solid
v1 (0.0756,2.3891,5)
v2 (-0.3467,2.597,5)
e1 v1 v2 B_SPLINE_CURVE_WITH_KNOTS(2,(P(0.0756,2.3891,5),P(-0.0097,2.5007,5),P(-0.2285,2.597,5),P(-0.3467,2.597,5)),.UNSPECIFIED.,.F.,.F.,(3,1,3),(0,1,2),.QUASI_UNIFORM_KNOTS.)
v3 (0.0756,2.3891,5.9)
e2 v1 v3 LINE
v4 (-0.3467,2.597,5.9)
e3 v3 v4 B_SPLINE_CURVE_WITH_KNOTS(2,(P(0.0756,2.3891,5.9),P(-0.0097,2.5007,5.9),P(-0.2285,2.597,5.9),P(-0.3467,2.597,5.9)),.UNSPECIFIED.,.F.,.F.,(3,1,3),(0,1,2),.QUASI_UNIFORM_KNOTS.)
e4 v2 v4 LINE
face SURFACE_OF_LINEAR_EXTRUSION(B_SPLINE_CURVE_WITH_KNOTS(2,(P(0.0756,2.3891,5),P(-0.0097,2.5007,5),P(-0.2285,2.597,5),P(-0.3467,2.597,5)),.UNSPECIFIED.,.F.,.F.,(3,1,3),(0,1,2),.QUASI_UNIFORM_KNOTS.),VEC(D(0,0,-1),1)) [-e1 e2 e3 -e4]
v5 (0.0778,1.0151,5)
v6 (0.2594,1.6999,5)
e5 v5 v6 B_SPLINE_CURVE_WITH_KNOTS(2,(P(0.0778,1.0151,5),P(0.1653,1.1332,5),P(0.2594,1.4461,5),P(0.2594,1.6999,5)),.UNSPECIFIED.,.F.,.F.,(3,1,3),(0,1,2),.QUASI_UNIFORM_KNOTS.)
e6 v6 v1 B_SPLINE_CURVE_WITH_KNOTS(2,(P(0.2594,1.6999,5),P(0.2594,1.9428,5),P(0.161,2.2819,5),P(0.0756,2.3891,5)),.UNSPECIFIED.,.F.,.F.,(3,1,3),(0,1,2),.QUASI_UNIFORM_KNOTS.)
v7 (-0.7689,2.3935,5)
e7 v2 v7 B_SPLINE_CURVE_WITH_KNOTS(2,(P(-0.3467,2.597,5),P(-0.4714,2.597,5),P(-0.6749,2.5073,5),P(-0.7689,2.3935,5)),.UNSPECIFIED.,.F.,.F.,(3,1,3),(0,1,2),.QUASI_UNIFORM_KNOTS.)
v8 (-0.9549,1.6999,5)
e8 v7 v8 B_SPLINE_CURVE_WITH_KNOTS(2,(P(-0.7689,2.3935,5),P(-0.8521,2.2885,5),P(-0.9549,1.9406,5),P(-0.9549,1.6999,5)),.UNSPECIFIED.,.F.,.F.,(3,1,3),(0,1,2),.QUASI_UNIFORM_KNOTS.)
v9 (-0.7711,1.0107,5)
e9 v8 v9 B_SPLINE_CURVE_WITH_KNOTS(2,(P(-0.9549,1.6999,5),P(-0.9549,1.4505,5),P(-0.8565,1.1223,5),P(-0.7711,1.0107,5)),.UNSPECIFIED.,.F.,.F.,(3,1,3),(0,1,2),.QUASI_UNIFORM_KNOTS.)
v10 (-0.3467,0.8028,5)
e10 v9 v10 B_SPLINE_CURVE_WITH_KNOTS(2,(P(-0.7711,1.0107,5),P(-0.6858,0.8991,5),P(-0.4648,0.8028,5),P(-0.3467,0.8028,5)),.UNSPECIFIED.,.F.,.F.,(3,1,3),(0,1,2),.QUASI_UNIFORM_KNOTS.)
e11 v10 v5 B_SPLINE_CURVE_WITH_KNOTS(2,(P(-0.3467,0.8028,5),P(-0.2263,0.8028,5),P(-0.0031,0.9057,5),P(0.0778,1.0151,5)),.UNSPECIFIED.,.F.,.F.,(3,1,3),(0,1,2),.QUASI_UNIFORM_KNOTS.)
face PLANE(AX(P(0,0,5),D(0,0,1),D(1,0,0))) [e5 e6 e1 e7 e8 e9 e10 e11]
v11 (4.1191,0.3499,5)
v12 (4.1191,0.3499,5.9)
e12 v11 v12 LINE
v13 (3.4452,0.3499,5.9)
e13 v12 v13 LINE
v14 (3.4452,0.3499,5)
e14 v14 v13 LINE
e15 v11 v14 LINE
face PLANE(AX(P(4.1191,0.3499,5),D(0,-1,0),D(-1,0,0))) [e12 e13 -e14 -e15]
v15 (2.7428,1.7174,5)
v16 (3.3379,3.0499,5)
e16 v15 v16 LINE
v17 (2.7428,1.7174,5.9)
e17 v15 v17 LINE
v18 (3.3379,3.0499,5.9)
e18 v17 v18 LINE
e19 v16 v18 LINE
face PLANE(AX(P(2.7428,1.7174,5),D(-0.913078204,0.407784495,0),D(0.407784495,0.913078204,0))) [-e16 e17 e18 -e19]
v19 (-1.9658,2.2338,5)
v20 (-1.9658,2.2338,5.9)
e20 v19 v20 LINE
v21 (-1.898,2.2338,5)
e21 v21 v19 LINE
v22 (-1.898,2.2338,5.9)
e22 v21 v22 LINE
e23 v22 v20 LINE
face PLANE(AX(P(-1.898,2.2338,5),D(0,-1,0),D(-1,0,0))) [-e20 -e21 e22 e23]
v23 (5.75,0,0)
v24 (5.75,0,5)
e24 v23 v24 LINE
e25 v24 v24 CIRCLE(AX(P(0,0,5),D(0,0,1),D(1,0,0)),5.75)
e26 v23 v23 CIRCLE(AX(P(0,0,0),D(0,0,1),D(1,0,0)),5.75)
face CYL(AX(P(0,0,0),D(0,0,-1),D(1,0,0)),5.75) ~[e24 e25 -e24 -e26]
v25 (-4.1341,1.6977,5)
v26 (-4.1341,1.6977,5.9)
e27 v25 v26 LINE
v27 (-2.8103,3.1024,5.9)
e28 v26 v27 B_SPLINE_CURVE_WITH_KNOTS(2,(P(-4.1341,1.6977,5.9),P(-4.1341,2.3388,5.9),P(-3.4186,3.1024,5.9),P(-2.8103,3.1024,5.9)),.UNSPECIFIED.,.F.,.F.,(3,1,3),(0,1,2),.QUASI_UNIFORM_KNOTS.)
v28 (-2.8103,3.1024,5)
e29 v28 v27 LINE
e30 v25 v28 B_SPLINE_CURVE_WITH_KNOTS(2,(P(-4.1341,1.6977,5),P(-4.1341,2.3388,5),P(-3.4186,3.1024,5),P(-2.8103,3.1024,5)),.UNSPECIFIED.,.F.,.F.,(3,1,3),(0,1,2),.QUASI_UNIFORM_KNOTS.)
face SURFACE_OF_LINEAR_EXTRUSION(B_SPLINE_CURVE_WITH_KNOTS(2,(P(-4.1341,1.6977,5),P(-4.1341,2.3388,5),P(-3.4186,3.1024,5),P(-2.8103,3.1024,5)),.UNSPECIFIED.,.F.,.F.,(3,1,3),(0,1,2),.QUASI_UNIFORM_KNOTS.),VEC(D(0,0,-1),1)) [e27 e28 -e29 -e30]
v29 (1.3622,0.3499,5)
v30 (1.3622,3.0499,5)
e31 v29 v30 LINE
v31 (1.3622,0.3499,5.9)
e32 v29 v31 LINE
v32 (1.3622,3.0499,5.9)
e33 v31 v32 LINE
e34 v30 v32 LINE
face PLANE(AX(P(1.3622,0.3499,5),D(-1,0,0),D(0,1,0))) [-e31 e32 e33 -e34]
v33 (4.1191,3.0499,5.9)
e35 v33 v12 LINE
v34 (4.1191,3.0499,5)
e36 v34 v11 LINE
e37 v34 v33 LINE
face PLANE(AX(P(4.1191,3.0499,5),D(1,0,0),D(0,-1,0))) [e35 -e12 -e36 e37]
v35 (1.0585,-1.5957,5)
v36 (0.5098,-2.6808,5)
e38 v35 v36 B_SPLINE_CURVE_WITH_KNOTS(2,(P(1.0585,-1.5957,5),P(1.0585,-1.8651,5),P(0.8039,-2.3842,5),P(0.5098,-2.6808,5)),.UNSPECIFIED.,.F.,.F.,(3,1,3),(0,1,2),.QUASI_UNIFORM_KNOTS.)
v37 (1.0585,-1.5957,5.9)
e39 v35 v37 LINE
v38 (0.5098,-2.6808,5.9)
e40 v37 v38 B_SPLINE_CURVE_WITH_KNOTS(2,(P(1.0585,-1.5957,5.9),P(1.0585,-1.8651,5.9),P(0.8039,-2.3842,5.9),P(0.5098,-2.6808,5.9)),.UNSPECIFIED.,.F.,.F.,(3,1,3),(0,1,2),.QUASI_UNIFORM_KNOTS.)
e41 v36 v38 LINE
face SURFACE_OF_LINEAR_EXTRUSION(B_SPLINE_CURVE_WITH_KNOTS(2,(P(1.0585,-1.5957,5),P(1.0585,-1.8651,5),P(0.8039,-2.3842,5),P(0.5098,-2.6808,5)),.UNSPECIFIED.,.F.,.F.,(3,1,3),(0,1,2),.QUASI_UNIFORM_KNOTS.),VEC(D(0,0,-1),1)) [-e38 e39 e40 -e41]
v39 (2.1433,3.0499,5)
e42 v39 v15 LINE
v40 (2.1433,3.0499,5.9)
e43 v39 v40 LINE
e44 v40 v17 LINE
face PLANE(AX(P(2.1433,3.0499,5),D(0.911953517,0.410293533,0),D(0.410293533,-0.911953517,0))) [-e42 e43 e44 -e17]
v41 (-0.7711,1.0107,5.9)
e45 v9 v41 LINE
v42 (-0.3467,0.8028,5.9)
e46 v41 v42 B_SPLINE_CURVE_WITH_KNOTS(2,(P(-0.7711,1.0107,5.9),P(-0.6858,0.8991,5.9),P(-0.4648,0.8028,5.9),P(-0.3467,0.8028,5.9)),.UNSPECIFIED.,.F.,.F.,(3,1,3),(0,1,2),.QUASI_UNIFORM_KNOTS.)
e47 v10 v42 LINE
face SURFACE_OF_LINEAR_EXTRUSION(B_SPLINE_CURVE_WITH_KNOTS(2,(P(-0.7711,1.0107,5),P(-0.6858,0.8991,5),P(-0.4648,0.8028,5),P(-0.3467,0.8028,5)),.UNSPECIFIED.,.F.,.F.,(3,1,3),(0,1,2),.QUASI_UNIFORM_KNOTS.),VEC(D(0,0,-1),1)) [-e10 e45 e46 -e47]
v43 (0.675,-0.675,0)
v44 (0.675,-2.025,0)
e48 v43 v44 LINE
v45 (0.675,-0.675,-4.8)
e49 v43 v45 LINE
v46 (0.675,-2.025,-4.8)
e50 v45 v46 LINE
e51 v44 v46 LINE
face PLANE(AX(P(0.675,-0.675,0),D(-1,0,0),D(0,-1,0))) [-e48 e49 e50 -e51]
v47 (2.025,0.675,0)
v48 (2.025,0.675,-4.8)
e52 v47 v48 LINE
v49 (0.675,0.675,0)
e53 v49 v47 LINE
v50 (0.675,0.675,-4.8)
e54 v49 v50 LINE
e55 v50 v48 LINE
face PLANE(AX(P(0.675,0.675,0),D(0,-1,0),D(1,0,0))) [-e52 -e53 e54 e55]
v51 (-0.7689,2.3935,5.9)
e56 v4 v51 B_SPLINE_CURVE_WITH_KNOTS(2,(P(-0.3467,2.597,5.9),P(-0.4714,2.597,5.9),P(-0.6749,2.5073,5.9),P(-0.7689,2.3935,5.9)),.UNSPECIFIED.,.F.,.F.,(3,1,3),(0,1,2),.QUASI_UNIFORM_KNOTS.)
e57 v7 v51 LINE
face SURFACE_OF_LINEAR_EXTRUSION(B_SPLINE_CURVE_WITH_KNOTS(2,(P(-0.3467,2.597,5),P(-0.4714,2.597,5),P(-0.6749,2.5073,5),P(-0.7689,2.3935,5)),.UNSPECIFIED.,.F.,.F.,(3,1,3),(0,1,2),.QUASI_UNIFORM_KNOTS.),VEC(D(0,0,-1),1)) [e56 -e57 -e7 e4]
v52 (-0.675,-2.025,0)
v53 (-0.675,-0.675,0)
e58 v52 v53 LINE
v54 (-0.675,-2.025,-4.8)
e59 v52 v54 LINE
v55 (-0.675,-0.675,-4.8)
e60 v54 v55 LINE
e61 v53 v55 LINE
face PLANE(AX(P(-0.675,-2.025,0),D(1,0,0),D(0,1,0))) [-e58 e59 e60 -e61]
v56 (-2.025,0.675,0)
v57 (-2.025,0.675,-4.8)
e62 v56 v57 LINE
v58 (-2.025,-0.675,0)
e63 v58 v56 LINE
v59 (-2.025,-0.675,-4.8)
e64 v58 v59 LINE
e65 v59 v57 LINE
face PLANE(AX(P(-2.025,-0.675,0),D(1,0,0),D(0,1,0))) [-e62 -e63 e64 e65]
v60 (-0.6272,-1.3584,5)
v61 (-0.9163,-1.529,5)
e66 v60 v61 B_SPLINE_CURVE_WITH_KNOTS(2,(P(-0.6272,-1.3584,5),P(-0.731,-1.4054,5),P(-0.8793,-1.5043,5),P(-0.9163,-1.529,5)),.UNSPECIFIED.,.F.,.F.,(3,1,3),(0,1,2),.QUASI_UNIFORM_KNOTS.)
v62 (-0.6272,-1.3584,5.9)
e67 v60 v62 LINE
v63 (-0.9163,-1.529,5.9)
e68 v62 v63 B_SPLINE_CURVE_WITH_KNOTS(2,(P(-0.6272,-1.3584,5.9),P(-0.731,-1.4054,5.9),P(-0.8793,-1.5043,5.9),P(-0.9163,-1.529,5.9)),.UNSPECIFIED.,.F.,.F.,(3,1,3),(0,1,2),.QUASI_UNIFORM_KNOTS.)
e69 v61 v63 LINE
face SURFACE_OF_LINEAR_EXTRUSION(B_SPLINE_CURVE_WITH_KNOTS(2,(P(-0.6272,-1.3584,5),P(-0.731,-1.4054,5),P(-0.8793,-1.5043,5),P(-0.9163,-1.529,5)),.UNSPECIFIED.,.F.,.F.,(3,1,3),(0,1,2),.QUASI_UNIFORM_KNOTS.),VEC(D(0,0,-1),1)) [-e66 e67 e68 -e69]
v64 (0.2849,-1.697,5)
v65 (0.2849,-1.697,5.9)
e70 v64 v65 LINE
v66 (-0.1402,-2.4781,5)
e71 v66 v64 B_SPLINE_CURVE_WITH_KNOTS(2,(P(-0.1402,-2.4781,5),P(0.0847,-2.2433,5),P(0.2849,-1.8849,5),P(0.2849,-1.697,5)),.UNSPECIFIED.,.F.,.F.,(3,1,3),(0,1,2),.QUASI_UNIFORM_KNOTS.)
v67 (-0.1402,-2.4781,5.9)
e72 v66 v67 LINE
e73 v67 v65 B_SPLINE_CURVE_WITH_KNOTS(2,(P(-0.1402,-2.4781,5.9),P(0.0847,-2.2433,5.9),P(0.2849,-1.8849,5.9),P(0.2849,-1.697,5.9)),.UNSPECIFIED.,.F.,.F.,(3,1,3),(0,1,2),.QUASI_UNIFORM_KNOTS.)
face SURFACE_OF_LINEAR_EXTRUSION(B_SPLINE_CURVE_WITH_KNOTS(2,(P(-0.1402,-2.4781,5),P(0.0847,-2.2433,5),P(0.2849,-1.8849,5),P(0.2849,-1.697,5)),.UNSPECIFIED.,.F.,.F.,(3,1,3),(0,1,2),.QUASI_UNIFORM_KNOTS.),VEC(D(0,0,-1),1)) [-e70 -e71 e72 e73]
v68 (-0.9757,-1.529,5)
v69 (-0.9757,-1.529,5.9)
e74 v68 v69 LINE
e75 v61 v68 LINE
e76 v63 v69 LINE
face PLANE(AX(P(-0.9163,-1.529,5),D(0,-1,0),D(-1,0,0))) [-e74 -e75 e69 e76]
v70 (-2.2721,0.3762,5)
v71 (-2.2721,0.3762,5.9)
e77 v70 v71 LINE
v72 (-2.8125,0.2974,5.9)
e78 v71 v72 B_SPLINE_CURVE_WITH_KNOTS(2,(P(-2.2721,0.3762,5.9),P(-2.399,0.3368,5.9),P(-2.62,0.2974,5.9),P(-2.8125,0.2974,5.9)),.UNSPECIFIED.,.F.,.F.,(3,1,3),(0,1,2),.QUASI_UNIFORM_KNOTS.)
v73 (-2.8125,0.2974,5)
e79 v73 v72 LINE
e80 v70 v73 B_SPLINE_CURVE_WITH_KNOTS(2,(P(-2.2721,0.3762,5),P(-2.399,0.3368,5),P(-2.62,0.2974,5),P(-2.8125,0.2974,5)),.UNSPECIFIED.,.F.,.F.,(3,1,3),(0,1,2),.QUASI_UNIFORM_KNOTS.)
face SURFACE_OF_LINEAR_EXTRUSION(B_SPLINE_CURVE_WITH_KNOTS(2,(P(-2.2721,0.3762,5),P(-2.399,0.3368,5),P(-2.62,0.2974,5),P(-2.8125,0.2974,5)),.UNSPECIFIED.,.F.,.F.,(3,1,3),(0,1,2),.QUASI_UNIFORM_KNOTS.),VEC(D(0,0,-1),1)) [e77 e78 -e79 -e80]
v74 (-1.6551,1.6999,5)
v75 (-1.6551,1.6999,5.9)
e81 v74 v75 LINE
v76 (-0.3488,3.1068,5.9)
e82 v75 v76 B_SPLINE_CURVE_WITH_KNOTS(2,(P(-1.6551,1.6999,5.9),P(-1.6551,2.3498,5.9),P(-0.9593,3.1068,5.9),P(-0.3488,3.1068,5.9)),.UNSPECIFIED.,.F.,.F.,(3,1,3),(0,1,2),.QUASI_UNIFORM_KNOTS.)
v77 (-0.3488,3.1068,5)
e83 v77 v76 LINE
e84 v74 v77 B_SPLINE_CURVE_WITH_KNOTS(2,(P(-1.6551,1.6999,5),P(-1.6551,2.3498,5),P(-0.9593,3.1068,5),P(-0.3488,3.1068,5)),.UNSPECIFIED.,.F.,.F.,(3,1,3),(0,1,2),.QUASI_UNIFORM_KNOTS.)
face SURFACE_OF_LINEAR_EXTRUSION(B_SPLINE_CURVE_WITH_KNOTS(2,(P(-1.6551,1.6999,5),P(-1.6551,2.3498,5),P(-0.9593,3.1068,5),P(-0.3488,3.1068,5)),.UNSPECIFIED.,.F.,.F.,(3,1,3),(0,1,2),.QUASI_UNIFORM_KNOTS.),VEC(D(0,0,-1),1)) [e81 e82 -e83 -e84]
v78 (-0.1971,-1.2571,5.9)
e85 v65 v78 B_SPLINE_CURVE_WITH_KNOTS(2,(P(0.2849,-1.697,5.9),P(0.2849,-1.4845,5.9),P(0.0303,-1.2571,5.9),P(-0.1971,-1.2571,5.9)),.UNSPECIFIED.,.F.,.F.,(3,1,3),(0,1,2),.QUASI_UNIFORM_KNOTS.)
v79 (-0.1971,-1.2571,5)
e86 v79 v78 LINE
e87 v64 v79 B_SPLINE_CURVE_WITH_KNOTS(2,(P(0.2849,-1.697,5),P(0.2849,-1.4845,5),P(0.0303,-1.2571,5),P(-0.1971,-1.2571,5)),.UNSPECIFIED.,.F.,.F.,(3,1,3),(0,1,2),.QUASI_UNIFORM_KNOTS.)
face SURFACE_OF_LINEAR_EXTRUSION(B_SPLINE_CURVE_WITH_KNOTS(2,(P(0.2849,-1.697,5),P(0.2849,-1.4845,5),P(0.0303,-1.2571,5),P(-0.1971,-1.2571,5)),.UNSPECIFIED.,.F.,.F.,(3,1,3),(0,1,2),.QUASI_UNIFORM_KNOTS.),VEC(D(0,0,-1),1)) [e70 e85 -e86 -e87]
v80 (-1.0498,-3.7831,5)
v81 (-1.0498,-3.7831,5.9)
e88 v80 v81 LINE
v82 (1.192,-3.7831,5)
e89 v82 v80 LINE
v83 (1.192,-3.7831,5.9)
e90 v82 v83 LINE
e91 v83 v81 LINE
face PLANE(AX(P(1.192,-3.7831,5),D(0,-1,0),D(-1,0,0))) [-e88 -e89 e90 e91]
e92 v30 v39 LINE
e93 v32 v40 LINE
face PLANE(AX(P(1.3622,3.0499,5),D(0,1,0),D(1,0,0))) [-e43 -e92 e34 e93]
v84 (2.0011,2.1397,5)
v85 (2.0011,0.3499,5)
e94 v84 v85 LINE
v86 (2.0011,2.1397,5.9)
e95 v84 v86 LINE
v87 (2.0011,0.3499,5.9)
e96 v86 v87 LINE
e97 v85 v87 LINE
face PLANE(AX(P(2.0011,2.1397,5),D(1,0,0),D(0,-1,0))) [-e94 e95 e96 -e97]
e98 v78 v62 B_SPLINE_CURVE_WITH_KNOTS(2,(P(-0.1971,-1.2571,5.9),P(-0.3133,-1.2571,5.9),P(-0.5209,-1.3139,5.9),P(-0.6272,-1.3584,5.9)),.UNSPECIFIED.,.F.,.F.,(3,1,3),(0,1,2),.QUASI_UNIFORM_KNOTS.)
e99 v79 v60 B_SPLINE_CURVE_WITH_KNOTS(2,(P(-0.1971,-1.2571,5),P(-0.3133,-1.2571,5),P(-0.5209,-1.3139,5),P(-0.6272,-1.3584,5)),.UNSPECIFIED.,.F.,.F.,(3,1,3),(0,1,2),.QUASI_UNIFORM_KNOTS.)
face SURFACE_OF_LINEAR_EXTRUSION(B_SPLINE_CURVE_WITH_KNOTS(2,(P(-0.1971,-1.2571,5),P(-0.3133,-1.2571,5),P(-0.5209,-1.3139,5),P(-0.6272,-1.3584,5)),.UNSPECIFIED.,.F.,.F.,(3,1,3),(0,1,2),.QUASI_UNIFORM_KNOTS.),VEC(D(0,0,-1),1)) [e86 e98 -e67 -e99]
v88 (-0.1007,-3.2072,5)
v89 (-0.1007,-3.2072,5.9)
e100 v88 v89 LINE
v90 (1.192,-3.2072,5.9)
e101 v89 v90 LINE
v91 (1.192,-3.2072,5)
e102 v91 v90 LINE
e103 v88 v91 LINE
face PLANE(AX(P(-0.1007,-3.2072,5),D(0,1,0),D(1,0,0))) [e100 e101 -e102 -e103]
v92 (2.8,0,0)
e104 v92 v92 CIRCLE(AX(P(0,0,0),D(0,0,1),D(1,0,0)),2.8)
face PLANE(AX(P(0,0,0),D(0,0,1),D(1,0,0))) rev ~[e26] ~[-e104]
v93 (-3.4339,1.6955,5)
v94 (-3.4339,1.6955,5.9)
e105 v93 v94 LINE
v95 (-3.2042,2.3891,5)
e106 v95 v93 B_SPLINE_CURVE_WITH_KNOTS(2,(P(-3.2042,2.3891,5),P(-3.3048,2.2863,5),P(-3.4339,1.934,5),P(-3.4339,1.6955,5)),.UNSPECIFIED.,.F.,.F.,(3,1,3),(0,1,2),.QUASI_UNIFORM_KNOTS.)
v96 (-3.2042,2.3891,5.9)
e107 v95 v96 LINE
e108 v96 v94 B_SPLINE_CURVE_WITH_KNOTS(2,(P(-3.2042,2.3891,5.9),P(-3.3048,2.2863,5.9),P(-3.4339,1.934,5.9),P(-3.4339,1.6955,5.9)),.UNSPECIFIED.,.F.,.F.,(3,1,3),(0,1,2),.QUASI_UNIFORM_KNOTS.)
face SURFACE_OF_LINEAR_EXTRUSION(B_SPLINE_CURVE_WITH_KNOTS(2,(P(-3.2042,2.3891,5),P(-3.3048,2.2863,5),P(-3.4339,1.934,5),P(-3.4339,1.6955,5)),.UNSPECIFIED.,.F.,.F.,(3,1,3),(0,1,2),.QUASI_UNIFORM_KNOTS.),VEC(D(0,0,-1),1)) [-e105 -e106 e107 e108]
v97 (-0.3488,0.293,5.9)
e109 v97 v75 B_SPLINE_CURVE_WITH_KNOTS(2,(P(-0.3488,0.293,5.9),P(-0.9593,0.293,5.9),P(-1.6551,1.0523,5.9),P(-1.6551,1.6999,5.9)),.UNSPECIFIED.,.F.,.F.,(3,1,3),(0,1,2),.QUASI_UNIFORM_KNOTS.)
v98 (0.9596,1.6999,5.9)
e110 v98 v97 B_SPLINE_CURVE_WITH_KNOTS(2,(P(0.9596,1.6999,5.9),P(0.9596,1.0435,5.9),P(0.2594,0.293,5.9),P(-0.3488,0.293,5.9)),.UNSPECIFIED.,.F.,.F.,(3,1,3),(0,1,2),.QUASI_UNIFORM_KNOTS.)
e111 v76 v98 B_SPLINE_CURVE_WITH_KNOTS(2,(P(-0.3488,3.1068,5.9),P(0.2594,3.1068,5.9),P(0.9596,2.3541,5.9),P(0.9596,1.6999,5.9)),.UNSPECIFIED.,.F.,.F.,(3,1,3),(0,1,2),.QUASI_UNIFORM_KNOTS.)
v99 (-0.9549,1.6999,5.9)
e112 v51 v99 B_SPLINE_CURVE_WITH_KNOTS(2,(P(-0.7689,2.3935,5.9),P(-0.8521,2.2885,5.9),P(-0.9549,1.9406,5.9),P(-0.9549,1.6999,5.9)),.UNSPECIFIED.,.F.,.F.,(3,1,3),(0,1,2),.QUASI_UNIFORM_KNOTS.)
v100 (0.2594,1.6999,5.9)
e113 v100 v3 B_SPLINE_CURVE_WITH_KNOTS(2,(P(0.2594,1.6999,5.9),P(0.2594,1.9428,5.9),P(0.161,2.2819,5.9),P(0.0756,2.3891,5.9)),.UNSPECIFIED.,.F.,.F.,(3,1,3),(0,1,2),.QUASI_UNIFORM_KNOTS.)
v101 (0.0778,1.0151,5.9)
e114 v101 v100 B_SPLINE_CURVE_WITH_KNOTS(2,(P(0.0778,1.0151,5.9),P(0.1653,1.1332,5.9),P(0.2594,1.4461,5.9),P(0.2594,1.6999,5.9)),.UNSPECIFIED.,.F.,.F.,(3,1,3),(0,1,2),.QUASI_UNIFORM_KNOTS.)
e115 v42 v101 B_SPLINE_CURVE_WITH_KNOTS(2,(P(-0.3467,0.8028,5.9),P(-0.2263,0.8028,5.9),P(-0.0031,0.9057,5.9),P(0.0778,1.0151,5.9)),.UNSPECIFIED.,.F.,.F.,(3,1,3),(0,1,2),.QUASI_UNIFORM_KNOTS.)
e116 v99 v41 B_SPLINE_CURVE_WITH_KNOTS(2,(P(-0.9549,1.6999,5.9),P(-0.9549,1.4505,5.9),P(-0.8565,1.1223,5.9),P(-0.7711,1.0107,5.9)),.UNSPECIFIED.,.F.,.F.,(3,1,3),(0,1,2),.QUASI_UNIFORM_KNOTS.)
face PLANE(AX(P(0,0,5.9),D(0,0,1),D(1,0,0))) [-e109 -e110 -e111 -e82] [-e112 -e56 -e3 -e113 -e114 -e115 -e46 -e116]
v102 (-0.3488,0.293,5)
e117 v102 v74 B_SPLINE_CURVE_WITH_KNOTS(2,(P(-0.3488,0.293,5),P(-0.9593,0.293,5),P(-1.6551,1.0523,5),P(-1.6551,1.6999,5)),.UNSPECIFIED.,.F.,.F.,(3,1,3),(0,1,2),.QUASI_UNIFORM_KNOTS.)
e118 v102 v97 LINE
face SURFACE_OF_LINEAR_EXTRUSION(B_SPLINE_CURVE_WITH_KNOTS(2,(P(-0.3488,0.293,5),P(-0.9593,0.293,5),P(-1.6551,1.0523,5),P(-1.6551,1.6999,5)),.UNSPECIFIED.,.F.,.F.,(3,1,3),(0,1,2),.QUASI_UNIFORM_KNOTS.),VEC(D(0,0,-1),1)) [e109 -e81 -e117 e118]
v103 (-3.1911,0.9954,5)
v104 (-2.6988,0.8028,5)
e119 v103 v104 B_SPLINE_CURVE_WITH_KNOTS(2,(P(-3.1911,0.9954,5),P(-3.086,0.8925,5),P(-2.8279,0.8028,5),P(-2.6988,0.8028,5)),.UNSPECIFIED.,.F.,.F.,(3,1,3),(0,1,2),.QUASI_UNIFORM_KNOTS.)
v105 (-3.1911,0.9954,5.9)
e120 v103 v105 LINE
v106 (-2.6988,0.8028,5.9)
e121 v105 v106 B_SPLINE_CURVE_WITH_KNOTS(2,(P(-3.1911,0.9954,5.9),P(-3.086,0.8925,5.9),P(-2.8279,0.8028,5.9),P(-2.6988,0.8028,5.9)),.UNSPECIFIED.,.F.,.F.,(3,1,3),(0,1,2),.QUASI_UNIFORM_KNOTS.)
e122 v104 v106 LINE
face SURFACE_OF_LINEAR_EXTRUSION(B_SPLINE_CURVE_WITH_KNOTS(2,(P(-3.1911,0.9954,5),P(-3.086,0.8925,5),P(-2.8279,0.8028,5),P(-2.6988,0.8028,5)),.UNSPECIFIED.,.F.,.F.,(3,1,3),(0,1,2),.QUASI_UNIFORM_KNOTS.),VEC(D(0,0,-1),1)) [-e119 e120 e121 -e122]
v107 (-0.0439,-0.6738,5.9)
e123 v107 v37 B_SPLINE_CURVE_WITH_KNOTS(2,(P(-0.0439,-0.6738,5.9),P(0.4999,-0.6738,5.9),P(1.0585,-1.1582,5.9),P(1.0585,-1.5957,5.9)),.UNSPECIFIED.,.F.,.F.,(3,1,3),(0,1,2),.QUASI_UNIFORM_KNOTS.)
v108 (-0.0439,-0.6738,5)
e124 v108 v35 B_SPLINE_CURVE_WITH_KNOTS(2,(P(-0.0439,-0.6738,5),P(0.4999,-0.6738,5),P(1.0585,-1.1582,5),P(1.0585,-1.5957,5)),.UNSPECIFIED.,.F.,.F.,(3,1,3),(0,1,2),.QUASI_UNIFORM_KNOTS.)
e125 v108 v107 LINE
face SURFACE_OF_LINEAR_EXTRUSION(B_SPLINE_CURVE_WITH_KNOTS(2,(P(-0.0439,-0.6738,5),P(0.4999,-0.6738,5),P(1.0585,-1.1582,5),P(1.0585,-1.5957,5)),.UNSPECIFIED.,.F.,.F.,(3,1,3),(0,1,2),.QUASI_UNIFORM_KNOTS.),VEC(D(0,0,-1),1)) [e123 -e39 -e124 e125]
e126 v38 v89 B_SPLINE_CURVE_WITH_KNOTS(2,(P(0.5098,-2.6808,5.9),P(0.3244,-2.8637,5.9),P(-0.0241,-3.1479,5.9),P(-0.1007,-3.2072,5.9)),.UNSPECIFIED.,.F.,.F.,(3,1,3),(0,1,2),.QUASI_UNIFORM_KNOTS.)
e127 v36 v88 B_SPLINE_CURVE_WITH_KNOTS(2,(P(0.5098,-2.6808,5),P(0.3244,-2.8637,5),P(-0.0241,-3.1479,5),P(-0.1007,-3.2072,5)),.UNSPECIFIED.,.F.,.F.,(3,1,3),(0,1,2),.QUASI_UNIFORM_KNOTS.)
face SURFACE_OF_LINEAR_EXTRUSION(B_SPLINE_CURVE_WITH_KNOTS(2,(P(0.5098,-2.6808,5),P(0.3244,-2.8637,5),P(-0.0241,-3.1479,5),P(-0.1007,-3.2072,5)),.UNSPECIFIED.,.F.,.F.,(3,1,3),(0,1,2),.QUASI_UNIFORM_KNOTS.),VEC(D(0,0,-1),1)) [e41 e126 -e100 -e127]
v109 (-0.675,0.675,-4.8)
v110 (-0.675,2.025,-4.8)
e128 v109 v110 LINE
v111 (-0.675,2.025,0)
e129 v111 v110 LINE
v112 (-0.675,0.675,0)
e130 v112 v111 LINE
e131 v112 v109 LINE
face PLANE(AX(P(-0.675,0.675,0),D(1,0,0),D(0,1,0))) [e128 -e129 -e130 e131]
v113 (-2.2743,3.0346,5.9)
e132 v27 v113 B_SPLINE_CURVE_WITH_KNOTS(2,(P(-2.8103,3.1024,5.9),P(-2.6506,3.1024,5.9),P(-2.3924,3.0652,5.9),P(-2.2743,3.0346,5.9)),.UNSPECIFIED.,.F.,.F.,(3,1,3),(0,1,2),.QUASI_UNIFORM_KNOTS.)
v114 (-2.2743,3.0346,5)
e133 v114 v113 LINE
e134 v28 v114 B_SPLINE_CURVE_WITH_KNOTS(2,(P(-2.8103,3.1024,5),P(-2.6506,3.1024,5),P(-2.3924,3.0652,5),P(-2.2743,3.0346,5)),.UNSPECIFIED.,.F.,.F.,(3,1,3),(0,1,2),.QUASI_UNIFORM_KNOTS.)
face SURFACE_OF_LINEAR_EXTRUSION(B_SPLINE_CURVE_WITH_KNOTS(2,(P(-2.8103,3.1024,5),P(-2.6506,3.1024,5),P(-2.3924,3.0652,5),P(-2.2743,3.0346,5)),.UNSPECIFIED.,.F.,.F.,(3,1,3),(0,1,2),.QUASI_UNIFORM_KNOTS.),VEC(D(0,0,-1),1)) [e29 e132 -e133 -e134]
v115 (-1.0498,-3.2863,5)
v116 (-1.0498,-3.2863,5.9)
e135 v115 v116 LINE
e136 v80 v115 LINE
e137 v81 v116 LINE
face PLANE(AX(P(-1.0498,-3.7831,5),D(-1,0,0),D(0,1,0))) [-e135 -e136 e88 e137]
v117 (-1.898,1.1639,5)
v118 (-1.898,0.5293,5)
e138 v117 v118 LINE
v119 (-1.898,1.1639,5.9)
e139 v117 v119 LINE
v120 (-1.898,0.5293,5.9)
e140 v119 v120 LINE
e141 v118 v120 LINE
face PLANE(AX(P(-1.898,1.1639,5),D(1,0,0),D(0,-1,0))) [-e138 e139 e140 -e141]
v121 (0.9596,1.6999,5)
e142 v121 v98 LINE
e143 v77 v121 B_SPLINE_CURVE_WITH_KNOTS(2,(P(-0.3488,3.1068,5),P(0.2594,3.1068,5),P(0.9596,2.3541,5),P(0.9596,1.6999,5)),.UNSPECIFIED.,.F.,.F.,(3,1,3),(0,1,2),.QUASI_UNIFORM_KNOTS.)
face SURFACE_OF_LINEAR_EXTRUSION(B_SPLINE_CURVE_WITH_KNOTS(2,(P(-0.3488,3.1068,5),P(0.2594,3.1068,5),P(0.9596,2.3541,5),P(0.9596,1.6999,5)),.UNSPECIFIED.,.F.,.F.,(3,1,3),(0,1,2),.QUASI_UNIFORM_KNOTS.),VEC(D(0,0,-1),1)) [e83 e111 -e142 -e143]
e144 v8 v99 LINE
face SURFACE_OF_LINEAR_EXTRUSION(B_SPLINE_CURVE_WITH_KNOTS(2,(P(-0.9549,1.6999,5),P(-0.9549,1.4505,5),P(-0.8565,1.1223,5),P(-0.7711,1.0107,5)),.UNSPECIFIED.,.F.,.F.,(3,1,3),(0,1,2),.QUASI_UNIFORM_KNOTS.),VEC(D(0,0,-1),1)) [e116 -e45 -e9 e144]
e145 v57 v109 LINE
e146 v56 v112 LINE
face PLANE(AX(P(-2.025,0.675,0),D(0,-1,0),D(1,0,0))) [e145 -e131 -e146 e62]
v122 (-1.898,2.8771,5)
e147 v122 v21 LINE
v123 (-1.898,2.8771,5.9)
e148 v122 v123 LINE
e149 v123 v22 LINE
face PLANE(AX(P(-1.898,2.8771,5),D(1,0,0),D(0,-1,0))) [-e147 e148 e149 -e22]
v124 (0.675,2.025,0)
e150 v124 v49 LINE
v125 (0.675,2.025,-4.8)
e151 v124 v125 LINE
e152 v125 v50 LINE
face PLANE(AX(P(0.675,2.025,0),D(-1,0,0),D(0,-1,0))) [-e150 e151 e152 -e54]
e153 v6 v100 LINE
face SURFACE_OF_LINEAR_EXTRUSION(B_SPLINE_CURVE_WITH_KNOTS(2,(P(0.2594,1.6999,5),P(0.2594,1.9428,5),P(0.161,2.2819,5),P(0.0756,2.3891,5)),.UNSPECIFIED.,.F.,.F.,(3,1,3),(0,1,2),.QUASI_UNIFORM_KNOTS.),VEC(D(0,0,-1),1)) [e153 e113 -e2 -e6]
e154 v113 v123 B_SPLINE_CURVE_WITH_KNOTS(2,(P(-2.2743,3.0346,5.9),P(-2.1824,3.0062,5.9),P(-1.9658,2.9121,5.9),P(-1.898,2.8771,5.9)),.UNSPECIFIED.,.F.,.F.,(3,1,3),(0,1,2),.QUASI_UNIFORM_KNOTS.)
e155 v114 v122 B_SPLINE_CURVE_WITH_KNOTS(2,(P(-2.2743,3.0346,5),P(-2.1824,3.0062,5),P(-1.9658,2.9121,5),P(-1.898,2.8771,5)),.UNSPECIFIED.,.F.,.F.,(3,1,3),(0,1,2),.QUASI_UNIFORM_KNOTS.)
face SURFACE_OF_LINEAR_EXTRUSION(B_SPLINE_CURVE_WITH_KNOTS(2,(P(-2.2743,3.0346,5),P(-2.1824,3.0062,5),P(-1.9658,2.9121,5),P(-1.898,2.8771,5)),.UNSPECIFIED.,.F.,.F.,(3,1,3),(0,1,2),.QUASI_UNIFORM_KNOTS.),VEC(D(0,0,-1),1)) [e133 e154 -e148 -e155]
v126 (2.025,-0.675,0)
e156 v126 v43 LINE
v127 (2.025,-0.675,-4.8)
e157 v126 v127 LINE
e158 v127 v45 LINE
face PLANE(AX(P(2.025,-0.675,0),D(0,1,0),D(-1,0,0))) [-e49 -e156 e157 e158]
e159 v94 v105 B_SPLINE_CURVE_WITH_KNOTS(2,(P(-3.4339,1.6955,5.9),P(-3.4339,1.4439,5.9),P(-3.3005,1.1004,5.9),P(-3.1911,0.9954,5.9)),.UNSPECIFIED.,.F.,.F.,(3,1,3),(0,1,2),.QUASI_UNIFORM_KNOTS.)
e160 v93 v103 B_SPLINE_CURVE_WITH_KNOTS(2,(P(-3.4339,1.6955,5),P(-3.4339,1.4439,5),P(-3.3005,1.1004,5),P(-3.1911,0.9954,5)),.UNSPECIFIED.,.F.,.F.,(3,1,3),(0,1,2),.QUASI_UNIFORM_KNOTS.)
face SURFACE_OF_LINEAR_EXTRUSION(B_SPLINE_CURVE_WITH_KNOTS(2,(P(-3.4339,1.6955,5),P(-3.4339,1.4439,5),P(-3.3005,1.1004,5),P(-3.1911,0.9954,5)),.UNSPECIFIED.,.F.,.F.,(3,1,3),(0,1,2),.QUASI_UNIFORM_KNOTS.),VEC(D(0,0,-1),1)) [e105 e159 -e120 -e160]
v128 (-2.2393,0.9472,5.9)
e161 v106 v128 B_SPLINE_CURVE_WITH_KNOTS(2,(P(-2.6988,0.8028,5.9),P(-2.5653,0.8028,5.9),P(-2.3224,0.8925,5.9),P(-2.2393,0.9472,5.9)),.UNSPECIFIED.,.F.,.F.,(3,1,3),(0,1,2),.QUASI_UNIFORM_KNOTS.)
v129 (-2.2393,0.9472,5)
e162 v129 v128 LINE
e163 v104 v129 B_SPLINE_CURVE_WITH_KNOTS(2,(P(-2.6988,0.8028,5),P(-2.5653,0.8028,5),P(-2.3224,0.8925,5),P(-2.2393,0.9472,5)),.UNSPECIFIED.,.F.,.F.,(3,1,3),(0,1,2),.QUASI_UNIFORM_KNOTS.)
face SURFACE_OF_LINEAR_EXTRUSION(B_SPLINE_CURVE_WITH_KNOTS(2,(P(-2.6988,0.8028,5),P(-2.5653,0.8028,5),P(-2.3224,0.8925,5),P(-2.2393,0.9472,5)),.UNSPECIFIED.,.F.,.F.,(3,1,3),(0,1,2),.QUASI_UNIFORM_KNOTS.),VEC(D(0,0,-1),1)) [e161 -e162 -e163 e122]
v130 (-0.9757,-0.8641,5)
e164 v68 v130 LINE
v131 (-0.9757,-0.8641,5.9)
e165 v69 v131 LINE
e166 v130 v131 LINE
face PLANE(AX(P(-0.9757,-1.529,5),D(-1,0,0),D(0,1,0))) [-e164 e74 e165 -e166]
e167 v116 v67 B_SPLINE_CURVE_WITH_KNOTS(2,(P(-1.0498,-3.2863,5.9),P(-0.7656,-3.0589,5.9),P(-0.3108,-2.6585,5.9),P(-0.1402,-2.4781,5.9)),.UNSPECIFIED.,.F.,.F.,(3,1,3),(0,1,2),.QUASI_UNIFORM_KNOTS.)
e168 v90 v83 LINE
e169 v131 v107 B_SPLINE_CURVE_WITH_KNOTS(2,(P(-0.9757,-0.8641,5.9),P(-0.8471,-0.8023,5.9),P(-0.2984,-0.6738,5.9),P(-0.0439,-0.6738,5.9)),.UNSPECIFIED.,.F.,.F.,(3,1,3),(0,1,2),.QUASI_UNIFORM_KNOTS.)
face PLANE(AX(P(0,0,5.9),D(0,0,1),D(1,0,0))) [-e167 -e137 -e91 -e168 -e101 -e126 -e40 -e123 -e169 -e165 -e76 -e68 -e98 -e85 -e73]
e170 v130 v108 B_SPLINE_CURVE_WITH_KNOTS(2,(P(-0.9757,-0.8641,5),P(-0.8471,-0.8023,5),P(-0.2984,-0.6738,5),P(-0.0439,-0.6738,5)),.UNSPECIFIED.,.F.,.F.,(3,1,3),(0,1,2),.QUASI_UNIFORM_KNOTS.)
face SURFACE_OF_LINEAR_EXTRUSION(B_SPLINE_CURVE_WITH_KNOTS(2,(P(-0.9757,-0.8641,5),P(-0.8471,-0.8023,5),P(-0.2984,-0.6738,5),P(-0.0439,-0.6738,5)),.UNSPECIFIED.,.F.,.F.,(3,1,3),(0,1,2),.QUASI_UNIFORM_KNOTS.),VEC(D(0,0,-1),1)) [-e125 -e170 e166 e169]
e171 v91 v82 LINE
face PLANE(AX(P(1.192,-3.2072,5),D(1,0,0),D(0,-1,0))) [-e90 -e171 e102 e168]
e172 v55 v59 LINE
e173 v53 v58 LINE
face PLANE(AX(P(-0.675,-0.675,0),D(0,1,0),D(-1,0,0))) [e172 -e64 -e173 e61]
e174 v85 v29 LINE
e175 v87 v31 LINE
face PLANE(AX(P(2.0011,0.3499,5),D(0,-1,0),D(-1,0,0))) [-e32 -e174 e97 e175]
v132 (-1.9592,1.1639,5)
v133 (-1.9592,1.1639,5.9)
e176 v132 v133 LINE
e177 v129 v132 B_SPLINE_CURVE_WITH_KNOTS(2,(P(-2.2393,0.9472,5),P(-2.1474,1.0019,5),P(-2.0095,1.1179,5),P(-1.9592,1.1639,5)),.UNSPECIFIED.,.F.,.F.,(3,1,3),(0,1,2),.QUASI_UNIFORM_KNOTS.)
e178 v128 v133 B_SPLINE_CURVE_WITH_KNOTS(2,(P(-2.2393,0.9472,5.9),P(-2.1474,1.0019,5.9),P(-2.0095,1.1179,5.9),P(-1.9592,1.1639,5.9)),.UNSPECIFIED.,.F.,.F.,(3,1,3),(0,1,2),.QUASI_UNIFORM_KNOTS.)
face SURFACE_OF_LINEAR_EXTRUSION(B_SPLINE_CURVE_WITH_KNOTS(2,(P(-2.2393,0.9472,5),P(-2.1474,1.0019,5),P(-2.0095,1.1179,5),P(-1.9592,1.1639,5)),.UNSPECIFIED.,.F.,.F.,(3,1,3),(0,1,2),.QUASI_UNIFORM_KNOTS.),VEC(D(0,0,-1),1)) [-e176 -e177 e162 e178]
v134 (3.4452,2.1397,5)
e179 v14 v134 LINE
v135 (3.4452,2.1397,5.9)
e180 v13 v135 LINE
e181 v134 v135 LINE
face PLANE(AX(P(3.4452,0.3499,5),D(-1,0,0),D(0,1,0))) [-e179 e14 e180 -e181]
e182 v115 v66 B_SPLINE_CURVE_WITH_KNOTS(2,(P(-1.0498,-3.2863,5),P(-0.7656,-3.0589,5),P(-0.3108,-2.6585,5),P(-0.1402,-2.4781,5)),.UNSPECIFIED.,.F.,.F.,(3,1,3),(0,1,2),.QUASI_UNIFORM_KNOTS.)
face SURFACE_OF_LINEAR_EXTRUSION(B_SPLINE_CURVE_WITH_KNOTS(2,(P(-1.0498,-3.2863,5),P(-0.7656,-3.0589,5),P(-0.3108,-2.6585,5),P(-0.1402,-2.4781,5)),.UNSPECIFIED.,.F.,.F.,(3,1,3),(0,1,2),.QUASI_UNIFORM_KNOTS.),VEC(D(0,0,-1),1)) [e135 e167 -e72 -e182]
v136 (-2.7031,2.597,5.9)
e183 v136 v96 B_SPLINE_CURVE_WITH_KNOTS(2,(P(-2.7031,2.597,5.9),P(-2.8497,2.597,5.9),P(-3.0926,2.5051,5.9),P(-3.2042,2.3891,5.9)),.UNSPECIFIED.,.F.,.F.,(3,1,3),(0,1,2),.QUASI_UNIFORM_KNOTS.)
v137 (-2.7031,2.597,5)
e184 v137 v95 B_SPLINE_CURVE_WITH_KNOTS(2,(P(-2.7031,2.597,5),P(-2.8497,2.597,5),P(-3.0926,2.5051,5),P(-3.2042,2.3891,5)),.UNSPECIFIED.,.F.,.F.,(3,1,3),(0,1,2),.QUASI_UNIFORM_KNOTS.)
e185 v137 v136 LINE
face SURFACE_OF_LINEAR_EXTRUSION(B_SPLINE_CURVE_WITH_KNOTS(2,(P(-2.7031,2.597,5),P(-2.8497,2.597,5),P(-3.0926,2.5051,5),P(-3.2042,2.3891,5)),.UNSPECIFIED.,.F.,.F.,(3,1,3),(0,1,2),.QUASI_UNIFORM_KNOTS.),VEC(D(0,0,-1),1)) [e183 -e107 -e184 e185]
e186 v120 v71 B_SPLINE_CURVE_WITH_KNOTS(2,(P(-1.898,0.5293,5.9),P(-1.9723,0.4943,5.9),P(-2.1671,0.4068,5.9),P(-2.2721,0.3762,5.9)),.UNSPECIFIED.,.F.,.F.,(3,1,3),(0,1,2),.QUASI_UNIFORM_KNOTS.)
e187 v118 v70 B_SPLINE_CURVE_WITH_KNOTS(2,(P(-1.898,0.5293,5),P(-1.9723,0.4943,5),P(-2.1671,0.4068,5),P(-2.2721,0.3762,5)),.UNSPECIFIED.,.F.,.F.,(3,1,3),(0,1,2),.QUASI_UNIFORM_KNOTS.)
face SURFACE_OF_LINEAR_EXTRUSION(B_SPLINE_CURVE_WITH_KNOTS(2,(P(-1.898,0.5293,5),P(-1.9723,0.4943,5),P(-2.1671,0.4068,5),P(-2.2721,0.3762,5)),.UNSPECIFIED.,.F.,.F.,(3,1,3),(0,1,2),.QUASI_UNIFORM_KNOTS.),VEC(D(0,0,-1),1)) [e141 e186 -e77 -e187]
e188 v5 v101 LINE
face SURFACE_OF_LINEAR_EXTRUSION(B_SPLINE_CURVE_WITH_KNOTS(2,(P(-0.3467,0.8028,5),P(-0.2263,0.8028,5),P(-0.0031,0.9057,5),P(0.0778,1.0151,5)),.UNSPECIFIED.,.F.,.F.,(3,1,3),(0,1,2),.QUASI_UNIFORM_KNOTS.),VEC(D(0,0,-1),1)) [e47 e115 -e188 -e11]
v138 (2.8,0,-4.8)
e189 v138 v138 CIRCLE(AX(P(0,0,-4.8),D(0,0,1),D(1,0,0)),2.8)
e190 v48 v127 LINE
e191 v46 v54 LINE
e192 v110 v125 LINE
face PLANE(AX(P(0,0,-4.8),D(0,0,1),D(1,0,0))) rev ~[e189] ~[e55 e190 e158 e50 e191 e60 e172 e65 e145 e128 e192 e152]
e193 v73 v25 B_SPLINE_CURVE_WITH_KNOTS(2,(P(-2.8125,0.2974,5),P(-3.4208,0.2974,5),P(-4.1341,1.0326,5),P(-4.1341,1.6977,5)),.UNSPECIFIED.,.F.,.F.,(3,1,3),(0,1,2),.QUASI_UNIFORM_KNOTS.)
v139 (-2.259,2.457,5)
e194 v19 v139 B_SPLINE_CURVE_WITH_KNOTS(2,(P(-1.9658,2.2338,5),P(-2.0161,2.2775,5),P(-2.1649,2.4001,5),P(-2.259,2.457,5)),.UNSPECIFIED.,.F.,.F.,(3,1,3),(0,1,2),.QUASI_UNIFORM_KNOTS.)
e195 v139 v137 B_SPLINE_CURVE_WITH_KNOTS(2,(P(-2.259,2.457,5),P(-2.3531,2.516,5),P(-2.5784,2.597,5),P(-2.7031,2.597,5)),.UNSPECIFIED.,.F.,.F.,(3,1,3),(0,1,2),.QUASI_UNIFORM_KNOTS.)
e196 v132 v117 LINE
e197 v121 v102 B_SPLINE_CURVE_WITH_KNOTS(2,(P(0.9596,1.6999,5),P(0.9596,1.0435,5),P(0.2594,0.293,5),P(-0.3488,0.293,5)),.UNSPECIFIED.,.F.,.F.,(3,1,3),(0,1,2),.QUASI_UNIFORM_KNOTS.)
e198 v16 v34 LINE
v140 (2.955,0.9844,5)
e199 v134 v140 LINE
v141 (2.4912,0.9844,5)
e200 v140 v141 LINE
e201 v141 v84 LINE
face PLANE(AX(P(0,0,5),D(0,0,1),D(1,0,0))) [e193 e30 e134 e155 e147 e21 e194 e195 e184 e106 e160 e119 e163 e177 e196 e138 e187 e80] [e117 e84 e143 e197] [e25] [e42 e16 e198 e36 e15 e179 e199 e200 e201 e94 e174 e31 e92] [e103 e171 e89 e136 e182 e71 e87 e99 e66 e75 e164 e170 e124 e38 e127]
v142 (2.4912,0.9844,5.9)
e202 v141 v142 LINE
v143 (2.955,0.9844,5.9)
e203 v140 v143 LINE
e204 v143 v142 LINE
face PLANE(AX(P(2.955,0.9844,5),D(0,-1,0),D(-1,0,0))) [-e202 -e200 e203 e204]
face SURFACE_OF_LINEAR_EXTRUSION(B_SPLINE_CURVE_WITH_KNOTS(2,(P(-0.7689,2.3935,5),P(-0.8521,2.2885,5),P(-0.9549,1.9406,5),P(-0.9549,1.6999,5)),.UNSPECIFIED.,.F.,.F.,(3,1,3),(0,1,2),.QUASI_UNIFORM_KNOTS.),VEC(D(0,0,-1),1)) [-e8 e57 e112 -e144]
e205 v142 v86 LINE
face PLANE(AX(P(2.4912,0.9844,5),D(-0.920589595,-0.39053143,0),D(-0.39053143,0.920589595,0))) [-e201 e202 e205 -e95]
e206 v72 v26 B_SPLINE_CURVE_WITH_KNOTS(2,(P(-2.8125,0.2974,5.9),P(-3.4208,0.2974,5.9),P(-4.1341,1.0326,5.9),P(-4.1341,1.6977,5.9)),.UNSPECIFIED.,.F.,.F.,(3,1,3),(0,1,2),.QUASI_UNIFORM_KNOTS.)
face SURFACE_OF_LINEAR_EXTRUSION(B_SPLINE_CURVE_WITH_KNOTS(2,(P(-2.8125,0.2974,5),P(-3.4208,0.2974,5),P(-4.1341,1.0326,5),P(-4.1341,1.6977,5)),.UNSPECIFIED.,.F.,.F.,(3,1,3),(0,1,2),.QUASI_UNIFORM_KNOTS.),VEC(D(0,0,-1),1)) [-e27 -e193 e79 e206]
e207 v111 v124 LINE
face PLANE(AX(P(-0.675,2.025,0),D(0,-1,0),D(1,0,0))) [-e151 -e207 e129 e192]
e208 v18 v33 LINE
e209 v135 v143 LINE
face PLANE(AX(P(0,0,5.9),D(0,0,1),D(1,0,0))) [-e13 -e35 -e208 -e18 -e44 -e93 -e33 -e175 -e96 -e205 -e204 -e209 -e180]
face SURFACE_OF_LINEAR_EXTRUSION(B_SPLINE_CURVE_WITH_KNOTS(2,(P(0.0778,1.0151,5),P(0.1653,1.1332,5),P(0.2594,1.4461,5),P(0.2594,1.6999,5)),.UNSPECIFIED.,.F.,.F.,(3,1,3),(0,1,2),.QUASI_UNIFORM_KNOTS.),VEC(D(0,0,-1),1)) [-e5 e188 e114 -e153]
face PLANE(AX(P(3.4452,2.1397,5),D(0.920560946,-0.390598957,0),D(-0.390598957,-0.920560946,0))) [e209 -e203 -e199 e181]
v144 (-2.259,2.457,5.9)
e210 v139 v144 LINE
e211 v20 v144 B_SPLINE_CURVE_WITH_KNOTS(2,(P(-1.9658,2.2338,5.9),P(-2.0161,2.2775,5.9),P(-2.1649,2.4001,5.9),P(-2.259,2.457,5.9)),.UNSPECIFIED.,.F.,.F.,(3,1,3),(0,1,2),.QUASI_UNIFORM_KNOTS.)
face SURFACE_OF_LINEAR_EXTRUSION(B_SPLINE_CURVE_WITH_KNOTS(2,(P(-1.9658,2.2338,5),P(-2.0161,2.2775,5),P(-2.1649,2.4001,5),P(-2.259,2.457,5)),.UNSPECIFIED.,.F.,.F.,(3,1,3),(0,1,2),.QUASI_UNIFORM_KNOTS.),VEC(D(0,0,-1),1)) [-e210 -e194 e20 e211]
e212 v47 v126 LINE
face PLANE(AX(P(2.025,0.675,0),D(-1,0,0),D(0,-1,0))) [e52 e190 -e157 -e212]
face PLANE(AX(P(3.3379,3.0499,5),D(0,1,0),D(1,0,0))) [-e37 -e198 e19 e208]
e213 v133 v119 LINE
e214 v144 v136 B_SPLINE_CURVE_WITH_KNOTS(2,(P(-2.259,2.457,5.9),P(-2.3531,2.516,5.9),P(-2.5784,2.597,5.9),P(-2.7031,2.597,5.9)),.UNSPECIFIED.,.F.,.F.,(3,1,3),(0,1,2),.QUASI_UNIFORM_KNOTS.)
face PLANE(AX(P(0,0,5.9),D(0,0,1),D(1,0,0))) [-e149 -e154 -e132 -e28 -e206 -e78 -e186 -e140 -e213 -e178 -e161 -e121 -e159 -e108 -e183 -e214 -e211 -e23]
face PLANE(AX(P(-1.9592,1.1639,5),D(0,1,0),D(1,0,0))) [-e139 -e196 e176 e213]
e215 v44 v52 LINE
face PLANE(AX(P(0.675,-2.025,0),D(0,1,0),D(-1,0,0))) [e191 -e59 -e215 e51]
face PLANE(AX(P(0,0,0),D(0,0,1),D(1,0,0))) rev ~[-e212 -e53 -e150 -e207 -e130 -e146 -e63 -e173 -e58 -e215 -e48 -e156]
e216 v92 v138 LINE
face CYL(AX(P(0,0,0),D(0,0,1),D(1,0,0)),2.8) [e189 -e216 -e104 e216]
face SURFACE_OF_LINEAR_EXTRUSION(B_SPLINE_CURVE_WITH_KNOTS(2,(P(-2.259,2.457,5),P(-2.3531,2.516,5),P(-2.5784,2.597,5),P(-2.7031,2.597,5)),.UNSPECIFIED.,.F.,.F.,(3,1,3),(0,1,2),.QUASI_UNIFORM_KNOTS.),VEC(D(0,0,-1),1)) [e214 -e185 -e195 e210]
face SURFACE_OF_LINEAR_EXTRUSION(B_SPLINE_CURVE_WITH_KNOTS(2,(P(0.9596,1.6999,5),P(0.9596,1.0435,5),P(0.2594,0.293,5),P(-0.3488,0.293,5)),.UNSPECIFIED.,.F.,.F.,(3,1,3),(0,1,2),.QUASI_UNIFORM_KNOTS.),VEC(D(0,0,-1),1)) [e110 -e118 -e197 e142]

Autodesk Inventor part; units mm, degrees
ref_plane "YZ Plane" through (0, 0, 0) normal (1, 0, 0) x (0, 1, 0)
ref_plane "XZ Plane" through (0, 0, 0) normal (0, 1, 0) x (-1, 0, 0)
ref_plane "XY Plane" through (0, 0, 0) normal (0, 0, 1) x (1, 0, 0)
sketch "Sketch1" plane through (0, 0, 0) normal (0, 0, 1) x (1, 0, 0)
  circle A0 centre (0, 0) radius 6.22 construction
  circle A1 centre (0, 0) radius 2.8
  line L0 (-0.675, 0.675) -> (-0.675, 2.025)
  line L1 (-0.675, 2.025) -> (0.675, 2.025)
  line L2 (0.675, 2.025) -> (0.675, 0.675)
  line L3 (0.675, 0.675) -> (2.025, 0.675)
  line L4 (2.025, 0.675) -> (2.025, -0.675)
  line L5 (2.025, -0.675) -> (0.675, -0.675)
  line L6 (0.675, -0.675) -> (0.675, -2.025)
  line L7 (0.675, -2.025) -> (-0.675, -2.025)
  line L8 (-0.675, -2.025) -> (-0.675, -0.675)
  line L9 (-0.675, -0.675) -> (-2.025, -0.675)
  line L10 (-2.025, -0.675) -> (-2.025, 0.675)
  line L11 (-2.025, 0.675) -> (-0.675, 0.675)
  circle A2 centre (0, 0) radius 5.75
  point P0 (-6.07, -6.1)
  dimension "d0" = 12.44
  dimension "d1" = 0.47
extrude "Extrusion1" add sketch "Sketch1" along normal blind 5 contours A1 | L0 L1 L2 L3 L4 L5 L6 L7 L8 L9 L10 L11 | A2
extrude "Extrusion2" add sketch "Sketch1" against normal blind 4.8 contours A1
sketch "Sketch2" plane through (0, 0, 5) normal (0, 0, 1) x (1, 0, 0)
  point P0 (0, 0)
sketch "Sketch3" plane through (0, 0, 5) normal (0, 0, 1) x (1, 0, 0)
  line L0 (-4.2566, 3.1068) -> (4.2414, 3.1068) construction
  line L1 (4.2414, 3.1068) -> (4.2414, 0.2437) construction
  line L2 (4.2414, 0.2437) -> (-4.2566, 0.2437) construction
  line L3 (-4.2566, 0.2437) -> (-4.2566, 3.1068) construction
  line L4 (-1.3588, -0.6738) -> (1.3131, -0.6738) construction
  line L5 (1.3131, -0.6738) -> (1.3131, -3.7312) construction
  line L6 (1.3131, -3.7312) -> (-1.3588, -3.7312) construction
  line L7 (-1.3588, -3.7312) -> (-1.3588, -0.6738) construction
  spline S0 degree 2 poles (-2.8125, 0.2974) (-3.4208, 0.2974) (-4.1341, 1.0326) (-4.1341, 1.6977) knots 0 0 0 1 2 2 2
  spline S1 degree 2 poles (-4.1341, 1.6977) (-4.1341, 2.3388) (-3.4186, 3.1024) (-2.8103, 3.1024) knots 0 0 0 1 2 2 2
  spline S2 degree 2 poles (-2.8103, 3.1024) (-2.6506, 3.1024) (-2.3924, 3.0652) (-2.2743, 3.0346) knots 0 0 0 1 2 2 2
  spline S3 degree 2 poles (-2.2743, 3.0346) (-2.1824, 3.0062) (-1.9658, 2.9121) (-1.898, 2.8771) knots 0 0 0 1 2 2 2
  line L8 (-1.898, 2.8771) -> (-1.898, 2.2338)
  line L9 (-1.898, 2.2338) -> (-1.9658, 2.2338)
  spline S4 degree 2 poles (-1.9658, 2.2338) (-2.0161, 2.2775) (-2.1649, 2.4001) (-2.259, 2.457) knots 0 0 0 1 2 2 2
  spline S5 degree 2 poles (-2.259, 2.457) (-2.3531, 2.516) (-2.5784, 2.597) (-2.7031, 2.597) knots 0 0 0 1 2 2 2
  spline S6 degree 2 poles (-2.7031, 2.597) (-2.8497, 2.597) (-3.0926, 2.5051) (-3.2042, 2.3891) knots 0 0 0 1 2 2 2
  spline S7 degree 2 poles (-3.2042, 2.3891) (-3.3048, 2.2863) (-3.4339, 1.934) (-3.4339, 1.6955) knots 0 0 0 1 2 2 2
  spline S8 degree 2 poles (-3.4339, 1.6955) (-3.4339, 1.4439) (-3.3005, 1.1004) (-3.1911, 0.9954) knots 0 0 0 1 2 2 2
  spline S9 degree 2 poles (-3.1911, 0.9954) (-3.086, 0.8925) (-2.8279, 0.8028) (-2.6988, 0.8028) knots 0 0 0 1 2 2 2
  spline S10 degree 2 poles (-2.6988, 0.8028) (-2.5653, 0.8028) (-2.3224, 0.8925) (-2.2393, 0.9472) knots 0 0 0 1 2 2 2
  spline S11 degree 2 poles (-2.2393, 0.9472) (-2.1474, 1.0019) (-2.0095, 1.1179) (-1.9592, 1.1639) knots 0 0 0 1 2 2 2
  line L10 (-1.9592, 1.1639) -> (-1.898, 1.1639)
  line L11 (-1.898, 1.1639) -> (-1.898, 0.5293)
  spline S12 degree 2 poles (-1.898, 0.5293) (-1.9723, 0.4943) (-2.1671, 0.4068) (-2.2721, 0.3762) knots 0 0 0 1 2 2 2
  spline S13 degree 2 poles (-2.2721, 0.3762) (-2.399, 0.3368) (-2.62, 0.2974) (-2.8125, 0.2974) knots 0 0 0 1 2 2 2
  spline S14 degree 2 poles (0.9596, 1.6999) (0.9596, 1.0435) (0.2594, 0.293) (-0.3488, 0.293) knots 0 0 0 1 2 2 2
  spline S15 degree 2 poles (-0.3488, 0.293) (-0.9593, 0.293) (-1.6551, 1.0523) (-1.6551, 1.6999) knots 0 0 0 1 2 2 2
  spline S16 degree 2 poles (-1.6551, 1.6999) (-1.6551, 2.3498) (-0.9593, 3.1068) (-0.3488, 3.1068) knots 0 0 0 1 2 2 2
  spline S17 degree 2 poles (-0.3488, 3.1068) (0.2594, 3.1068) (0.9596, 2.3541) (0.9596, 1.6999) knots 0 0 0 1 2 2 2
  spline S18 degree 2 poles (0.2594, 1.6999) (0.2594, 1.9428) (0.161, 2.2819) (0.0756, 2.3891) knots 0 0 0 1 2 2 2
  spline S19 degree 2 poles (0.0756, 2.3891) (-0.0097, 2.5007) (-0.2285, 2.597) (-0.3467, 2.597) knots 0 0 0 1 2 2 2
  spline S20 degree 2 poles (-0.3467, 2.597) (-0.4714, 2.597) (-0.6749, 2.5073) (-0.7689, 2.3935) knots 0 0 0 1 2 2 2
  spline S21 degree 2 poles (-0.7689, 2.3935) (-0.8521, 2.2885) (-0.9549, 1.9406) (-0.9549, 1.6999) knots 0 0 0 1 2 2 2
  spline S22 degree 2 poles (-0.9549, 1.6999) (-0.9549, 1.4505) (-0.8565, 1.1223) (-0.7711, 1.0107) knots 0 0 0 1 2 2 2
  spline S23 degree 2 poles (-0.7711, 1.0107) (-0.6858, 0.8991) (-0.4648, 0.8028) (-0.3467, 0.8028) knots 0 0 0 1 2 2 2
  spline S24 degree 2 poles (-0.3467, 0.8028) (-0.2263, 0.8028) (-0.0031, 0.9057) (0.0778, 1.0151) knots 0 0 0 1 2 2 2
  spline S25 degree 2 poles (0.0778, 1.0151) (0.1653, 1.1332) (0.2594, 1.4461) (0.2594, 1.6999) knots 0 0 0 1 2 2 2
  line L12 (4.1191, 0.3499) -> (3.4452, 0.3499)
  line L13 (3.4452, 0.3499) -> (3.4452, 2.1397)
  line L14 (3.4452, 2.1397) -> (2.955, 0.9844)
  line L15 (2.955, 0.9844) -> (2.4912, 0.9844)
  line L16 (2.4912, 0.9844) -> (2.0011, 2.1397)
  line L17 (2.0011, 2.1397) -> (2.0011, 0.3499)
  line L18 (2.0011, 0.3499) -> (1.3622, 0.3499)
  line L19 (1.3622, 0.3499) -> (1.3622, 3.0499)
  line L20 (1.3622, 3.0499) -> (2.1433, 3.0499)
  line L21 (2.1433, 3.0499) -> (2.7428, 1.7174)
  line L22 (2.7428, 1.7174) -> (3.3379, 3.0499)
  line L23 (3.3379, 3.0499) -> (4.1191, 3.0499)
  line L24 (4.1191, 3.0499) -> (4.1191, 0.3499)
  line L25 (1.192, -3.7831) -> (-1.0498, -3.7831)
  line L26 (-1.0498, -3.7831) -> (-1.0498, -3.2863)
  spline S26 degree 2 poles (-1.0498, -3.2863) (-0.7656, -3.0589) (-0.3108, -2.6585) (-0.1402, -2.4781) knots 0 0 0 1 2 2 2
  spline S27 degree 2 poles (-0.1402, -2.4781) (0.0847, -2.2433) (0.2849, -1.8849) (0.2849, -1.697) knots 0 0 0 1 2 2 2
  spline S28 degree 2 poles (0.2849, -1.697) (0.2849, -1.4845) (0.0303, -1.2571) (-0.1971, -1.2571) knots 0 0 0 1 2 2 2
  spline S29 degree 2 poles (-0.1971, -1.2571) (-0.3133, -1.2571) (-0.5209, -1.3139) (-0.6272, -1.3584) knots 0 0 0 1 2 2 2
  spline S30 degree 2 poles (-0.6272, -1.3584) (-0.731, -1.4054) (-0.8793, -1.5043) (-0.9163, -1.529) knots 0 0 0 1 2 2 2
  line L27 (-0.9163, -1.529) -> (-0.9757, -1.529)
  line L28 (-0.9757, -1.529) -> (-0.9757, -0.8641)
  spline S31 degree 2 poles (-0.9757, -0.8641) (-0.8471, -0.8023) (-0.2984, -0.6738) (-0.0439, -0.6738) knots 0 0 0 1 2 2 2
  spline S32 degree 2 poles (-0.0439, -0.6738) (0.4999, -0.6738) (1.0585, -1.1582) (1.0585, -1.5957) knots 0 0 0 1 2 2 2
  spline S33 degree 2 poles (1.0585, -1.5957) (1.0585, -1.8651) (0.8039, -2.3842) (0.5098, -2.6808) knots 0 0 0 1 2 2 2
  spline S34 degree 2 poles (0.5098, -2.6808) (0.3244, -2.8637) (-0.0241, -3.1479) (-0.1007, -3.2072) knots 0 0 0 1 2 2 2
  line L29 (-0.1007, -3.2072) -> (1.192, -3.2072)
  line L30 (1.192, -3.2072) -> (1.192, -3.7831)
  point P0 (0, 0)
  point P1 (-0.0076, 0.2437)
  point P2 (-0.0228, -3.7312)
extrude "Extrusion3" add sketch "Sketch3" along normal blind 0.9
properties part number "IPC Com 2 key"
